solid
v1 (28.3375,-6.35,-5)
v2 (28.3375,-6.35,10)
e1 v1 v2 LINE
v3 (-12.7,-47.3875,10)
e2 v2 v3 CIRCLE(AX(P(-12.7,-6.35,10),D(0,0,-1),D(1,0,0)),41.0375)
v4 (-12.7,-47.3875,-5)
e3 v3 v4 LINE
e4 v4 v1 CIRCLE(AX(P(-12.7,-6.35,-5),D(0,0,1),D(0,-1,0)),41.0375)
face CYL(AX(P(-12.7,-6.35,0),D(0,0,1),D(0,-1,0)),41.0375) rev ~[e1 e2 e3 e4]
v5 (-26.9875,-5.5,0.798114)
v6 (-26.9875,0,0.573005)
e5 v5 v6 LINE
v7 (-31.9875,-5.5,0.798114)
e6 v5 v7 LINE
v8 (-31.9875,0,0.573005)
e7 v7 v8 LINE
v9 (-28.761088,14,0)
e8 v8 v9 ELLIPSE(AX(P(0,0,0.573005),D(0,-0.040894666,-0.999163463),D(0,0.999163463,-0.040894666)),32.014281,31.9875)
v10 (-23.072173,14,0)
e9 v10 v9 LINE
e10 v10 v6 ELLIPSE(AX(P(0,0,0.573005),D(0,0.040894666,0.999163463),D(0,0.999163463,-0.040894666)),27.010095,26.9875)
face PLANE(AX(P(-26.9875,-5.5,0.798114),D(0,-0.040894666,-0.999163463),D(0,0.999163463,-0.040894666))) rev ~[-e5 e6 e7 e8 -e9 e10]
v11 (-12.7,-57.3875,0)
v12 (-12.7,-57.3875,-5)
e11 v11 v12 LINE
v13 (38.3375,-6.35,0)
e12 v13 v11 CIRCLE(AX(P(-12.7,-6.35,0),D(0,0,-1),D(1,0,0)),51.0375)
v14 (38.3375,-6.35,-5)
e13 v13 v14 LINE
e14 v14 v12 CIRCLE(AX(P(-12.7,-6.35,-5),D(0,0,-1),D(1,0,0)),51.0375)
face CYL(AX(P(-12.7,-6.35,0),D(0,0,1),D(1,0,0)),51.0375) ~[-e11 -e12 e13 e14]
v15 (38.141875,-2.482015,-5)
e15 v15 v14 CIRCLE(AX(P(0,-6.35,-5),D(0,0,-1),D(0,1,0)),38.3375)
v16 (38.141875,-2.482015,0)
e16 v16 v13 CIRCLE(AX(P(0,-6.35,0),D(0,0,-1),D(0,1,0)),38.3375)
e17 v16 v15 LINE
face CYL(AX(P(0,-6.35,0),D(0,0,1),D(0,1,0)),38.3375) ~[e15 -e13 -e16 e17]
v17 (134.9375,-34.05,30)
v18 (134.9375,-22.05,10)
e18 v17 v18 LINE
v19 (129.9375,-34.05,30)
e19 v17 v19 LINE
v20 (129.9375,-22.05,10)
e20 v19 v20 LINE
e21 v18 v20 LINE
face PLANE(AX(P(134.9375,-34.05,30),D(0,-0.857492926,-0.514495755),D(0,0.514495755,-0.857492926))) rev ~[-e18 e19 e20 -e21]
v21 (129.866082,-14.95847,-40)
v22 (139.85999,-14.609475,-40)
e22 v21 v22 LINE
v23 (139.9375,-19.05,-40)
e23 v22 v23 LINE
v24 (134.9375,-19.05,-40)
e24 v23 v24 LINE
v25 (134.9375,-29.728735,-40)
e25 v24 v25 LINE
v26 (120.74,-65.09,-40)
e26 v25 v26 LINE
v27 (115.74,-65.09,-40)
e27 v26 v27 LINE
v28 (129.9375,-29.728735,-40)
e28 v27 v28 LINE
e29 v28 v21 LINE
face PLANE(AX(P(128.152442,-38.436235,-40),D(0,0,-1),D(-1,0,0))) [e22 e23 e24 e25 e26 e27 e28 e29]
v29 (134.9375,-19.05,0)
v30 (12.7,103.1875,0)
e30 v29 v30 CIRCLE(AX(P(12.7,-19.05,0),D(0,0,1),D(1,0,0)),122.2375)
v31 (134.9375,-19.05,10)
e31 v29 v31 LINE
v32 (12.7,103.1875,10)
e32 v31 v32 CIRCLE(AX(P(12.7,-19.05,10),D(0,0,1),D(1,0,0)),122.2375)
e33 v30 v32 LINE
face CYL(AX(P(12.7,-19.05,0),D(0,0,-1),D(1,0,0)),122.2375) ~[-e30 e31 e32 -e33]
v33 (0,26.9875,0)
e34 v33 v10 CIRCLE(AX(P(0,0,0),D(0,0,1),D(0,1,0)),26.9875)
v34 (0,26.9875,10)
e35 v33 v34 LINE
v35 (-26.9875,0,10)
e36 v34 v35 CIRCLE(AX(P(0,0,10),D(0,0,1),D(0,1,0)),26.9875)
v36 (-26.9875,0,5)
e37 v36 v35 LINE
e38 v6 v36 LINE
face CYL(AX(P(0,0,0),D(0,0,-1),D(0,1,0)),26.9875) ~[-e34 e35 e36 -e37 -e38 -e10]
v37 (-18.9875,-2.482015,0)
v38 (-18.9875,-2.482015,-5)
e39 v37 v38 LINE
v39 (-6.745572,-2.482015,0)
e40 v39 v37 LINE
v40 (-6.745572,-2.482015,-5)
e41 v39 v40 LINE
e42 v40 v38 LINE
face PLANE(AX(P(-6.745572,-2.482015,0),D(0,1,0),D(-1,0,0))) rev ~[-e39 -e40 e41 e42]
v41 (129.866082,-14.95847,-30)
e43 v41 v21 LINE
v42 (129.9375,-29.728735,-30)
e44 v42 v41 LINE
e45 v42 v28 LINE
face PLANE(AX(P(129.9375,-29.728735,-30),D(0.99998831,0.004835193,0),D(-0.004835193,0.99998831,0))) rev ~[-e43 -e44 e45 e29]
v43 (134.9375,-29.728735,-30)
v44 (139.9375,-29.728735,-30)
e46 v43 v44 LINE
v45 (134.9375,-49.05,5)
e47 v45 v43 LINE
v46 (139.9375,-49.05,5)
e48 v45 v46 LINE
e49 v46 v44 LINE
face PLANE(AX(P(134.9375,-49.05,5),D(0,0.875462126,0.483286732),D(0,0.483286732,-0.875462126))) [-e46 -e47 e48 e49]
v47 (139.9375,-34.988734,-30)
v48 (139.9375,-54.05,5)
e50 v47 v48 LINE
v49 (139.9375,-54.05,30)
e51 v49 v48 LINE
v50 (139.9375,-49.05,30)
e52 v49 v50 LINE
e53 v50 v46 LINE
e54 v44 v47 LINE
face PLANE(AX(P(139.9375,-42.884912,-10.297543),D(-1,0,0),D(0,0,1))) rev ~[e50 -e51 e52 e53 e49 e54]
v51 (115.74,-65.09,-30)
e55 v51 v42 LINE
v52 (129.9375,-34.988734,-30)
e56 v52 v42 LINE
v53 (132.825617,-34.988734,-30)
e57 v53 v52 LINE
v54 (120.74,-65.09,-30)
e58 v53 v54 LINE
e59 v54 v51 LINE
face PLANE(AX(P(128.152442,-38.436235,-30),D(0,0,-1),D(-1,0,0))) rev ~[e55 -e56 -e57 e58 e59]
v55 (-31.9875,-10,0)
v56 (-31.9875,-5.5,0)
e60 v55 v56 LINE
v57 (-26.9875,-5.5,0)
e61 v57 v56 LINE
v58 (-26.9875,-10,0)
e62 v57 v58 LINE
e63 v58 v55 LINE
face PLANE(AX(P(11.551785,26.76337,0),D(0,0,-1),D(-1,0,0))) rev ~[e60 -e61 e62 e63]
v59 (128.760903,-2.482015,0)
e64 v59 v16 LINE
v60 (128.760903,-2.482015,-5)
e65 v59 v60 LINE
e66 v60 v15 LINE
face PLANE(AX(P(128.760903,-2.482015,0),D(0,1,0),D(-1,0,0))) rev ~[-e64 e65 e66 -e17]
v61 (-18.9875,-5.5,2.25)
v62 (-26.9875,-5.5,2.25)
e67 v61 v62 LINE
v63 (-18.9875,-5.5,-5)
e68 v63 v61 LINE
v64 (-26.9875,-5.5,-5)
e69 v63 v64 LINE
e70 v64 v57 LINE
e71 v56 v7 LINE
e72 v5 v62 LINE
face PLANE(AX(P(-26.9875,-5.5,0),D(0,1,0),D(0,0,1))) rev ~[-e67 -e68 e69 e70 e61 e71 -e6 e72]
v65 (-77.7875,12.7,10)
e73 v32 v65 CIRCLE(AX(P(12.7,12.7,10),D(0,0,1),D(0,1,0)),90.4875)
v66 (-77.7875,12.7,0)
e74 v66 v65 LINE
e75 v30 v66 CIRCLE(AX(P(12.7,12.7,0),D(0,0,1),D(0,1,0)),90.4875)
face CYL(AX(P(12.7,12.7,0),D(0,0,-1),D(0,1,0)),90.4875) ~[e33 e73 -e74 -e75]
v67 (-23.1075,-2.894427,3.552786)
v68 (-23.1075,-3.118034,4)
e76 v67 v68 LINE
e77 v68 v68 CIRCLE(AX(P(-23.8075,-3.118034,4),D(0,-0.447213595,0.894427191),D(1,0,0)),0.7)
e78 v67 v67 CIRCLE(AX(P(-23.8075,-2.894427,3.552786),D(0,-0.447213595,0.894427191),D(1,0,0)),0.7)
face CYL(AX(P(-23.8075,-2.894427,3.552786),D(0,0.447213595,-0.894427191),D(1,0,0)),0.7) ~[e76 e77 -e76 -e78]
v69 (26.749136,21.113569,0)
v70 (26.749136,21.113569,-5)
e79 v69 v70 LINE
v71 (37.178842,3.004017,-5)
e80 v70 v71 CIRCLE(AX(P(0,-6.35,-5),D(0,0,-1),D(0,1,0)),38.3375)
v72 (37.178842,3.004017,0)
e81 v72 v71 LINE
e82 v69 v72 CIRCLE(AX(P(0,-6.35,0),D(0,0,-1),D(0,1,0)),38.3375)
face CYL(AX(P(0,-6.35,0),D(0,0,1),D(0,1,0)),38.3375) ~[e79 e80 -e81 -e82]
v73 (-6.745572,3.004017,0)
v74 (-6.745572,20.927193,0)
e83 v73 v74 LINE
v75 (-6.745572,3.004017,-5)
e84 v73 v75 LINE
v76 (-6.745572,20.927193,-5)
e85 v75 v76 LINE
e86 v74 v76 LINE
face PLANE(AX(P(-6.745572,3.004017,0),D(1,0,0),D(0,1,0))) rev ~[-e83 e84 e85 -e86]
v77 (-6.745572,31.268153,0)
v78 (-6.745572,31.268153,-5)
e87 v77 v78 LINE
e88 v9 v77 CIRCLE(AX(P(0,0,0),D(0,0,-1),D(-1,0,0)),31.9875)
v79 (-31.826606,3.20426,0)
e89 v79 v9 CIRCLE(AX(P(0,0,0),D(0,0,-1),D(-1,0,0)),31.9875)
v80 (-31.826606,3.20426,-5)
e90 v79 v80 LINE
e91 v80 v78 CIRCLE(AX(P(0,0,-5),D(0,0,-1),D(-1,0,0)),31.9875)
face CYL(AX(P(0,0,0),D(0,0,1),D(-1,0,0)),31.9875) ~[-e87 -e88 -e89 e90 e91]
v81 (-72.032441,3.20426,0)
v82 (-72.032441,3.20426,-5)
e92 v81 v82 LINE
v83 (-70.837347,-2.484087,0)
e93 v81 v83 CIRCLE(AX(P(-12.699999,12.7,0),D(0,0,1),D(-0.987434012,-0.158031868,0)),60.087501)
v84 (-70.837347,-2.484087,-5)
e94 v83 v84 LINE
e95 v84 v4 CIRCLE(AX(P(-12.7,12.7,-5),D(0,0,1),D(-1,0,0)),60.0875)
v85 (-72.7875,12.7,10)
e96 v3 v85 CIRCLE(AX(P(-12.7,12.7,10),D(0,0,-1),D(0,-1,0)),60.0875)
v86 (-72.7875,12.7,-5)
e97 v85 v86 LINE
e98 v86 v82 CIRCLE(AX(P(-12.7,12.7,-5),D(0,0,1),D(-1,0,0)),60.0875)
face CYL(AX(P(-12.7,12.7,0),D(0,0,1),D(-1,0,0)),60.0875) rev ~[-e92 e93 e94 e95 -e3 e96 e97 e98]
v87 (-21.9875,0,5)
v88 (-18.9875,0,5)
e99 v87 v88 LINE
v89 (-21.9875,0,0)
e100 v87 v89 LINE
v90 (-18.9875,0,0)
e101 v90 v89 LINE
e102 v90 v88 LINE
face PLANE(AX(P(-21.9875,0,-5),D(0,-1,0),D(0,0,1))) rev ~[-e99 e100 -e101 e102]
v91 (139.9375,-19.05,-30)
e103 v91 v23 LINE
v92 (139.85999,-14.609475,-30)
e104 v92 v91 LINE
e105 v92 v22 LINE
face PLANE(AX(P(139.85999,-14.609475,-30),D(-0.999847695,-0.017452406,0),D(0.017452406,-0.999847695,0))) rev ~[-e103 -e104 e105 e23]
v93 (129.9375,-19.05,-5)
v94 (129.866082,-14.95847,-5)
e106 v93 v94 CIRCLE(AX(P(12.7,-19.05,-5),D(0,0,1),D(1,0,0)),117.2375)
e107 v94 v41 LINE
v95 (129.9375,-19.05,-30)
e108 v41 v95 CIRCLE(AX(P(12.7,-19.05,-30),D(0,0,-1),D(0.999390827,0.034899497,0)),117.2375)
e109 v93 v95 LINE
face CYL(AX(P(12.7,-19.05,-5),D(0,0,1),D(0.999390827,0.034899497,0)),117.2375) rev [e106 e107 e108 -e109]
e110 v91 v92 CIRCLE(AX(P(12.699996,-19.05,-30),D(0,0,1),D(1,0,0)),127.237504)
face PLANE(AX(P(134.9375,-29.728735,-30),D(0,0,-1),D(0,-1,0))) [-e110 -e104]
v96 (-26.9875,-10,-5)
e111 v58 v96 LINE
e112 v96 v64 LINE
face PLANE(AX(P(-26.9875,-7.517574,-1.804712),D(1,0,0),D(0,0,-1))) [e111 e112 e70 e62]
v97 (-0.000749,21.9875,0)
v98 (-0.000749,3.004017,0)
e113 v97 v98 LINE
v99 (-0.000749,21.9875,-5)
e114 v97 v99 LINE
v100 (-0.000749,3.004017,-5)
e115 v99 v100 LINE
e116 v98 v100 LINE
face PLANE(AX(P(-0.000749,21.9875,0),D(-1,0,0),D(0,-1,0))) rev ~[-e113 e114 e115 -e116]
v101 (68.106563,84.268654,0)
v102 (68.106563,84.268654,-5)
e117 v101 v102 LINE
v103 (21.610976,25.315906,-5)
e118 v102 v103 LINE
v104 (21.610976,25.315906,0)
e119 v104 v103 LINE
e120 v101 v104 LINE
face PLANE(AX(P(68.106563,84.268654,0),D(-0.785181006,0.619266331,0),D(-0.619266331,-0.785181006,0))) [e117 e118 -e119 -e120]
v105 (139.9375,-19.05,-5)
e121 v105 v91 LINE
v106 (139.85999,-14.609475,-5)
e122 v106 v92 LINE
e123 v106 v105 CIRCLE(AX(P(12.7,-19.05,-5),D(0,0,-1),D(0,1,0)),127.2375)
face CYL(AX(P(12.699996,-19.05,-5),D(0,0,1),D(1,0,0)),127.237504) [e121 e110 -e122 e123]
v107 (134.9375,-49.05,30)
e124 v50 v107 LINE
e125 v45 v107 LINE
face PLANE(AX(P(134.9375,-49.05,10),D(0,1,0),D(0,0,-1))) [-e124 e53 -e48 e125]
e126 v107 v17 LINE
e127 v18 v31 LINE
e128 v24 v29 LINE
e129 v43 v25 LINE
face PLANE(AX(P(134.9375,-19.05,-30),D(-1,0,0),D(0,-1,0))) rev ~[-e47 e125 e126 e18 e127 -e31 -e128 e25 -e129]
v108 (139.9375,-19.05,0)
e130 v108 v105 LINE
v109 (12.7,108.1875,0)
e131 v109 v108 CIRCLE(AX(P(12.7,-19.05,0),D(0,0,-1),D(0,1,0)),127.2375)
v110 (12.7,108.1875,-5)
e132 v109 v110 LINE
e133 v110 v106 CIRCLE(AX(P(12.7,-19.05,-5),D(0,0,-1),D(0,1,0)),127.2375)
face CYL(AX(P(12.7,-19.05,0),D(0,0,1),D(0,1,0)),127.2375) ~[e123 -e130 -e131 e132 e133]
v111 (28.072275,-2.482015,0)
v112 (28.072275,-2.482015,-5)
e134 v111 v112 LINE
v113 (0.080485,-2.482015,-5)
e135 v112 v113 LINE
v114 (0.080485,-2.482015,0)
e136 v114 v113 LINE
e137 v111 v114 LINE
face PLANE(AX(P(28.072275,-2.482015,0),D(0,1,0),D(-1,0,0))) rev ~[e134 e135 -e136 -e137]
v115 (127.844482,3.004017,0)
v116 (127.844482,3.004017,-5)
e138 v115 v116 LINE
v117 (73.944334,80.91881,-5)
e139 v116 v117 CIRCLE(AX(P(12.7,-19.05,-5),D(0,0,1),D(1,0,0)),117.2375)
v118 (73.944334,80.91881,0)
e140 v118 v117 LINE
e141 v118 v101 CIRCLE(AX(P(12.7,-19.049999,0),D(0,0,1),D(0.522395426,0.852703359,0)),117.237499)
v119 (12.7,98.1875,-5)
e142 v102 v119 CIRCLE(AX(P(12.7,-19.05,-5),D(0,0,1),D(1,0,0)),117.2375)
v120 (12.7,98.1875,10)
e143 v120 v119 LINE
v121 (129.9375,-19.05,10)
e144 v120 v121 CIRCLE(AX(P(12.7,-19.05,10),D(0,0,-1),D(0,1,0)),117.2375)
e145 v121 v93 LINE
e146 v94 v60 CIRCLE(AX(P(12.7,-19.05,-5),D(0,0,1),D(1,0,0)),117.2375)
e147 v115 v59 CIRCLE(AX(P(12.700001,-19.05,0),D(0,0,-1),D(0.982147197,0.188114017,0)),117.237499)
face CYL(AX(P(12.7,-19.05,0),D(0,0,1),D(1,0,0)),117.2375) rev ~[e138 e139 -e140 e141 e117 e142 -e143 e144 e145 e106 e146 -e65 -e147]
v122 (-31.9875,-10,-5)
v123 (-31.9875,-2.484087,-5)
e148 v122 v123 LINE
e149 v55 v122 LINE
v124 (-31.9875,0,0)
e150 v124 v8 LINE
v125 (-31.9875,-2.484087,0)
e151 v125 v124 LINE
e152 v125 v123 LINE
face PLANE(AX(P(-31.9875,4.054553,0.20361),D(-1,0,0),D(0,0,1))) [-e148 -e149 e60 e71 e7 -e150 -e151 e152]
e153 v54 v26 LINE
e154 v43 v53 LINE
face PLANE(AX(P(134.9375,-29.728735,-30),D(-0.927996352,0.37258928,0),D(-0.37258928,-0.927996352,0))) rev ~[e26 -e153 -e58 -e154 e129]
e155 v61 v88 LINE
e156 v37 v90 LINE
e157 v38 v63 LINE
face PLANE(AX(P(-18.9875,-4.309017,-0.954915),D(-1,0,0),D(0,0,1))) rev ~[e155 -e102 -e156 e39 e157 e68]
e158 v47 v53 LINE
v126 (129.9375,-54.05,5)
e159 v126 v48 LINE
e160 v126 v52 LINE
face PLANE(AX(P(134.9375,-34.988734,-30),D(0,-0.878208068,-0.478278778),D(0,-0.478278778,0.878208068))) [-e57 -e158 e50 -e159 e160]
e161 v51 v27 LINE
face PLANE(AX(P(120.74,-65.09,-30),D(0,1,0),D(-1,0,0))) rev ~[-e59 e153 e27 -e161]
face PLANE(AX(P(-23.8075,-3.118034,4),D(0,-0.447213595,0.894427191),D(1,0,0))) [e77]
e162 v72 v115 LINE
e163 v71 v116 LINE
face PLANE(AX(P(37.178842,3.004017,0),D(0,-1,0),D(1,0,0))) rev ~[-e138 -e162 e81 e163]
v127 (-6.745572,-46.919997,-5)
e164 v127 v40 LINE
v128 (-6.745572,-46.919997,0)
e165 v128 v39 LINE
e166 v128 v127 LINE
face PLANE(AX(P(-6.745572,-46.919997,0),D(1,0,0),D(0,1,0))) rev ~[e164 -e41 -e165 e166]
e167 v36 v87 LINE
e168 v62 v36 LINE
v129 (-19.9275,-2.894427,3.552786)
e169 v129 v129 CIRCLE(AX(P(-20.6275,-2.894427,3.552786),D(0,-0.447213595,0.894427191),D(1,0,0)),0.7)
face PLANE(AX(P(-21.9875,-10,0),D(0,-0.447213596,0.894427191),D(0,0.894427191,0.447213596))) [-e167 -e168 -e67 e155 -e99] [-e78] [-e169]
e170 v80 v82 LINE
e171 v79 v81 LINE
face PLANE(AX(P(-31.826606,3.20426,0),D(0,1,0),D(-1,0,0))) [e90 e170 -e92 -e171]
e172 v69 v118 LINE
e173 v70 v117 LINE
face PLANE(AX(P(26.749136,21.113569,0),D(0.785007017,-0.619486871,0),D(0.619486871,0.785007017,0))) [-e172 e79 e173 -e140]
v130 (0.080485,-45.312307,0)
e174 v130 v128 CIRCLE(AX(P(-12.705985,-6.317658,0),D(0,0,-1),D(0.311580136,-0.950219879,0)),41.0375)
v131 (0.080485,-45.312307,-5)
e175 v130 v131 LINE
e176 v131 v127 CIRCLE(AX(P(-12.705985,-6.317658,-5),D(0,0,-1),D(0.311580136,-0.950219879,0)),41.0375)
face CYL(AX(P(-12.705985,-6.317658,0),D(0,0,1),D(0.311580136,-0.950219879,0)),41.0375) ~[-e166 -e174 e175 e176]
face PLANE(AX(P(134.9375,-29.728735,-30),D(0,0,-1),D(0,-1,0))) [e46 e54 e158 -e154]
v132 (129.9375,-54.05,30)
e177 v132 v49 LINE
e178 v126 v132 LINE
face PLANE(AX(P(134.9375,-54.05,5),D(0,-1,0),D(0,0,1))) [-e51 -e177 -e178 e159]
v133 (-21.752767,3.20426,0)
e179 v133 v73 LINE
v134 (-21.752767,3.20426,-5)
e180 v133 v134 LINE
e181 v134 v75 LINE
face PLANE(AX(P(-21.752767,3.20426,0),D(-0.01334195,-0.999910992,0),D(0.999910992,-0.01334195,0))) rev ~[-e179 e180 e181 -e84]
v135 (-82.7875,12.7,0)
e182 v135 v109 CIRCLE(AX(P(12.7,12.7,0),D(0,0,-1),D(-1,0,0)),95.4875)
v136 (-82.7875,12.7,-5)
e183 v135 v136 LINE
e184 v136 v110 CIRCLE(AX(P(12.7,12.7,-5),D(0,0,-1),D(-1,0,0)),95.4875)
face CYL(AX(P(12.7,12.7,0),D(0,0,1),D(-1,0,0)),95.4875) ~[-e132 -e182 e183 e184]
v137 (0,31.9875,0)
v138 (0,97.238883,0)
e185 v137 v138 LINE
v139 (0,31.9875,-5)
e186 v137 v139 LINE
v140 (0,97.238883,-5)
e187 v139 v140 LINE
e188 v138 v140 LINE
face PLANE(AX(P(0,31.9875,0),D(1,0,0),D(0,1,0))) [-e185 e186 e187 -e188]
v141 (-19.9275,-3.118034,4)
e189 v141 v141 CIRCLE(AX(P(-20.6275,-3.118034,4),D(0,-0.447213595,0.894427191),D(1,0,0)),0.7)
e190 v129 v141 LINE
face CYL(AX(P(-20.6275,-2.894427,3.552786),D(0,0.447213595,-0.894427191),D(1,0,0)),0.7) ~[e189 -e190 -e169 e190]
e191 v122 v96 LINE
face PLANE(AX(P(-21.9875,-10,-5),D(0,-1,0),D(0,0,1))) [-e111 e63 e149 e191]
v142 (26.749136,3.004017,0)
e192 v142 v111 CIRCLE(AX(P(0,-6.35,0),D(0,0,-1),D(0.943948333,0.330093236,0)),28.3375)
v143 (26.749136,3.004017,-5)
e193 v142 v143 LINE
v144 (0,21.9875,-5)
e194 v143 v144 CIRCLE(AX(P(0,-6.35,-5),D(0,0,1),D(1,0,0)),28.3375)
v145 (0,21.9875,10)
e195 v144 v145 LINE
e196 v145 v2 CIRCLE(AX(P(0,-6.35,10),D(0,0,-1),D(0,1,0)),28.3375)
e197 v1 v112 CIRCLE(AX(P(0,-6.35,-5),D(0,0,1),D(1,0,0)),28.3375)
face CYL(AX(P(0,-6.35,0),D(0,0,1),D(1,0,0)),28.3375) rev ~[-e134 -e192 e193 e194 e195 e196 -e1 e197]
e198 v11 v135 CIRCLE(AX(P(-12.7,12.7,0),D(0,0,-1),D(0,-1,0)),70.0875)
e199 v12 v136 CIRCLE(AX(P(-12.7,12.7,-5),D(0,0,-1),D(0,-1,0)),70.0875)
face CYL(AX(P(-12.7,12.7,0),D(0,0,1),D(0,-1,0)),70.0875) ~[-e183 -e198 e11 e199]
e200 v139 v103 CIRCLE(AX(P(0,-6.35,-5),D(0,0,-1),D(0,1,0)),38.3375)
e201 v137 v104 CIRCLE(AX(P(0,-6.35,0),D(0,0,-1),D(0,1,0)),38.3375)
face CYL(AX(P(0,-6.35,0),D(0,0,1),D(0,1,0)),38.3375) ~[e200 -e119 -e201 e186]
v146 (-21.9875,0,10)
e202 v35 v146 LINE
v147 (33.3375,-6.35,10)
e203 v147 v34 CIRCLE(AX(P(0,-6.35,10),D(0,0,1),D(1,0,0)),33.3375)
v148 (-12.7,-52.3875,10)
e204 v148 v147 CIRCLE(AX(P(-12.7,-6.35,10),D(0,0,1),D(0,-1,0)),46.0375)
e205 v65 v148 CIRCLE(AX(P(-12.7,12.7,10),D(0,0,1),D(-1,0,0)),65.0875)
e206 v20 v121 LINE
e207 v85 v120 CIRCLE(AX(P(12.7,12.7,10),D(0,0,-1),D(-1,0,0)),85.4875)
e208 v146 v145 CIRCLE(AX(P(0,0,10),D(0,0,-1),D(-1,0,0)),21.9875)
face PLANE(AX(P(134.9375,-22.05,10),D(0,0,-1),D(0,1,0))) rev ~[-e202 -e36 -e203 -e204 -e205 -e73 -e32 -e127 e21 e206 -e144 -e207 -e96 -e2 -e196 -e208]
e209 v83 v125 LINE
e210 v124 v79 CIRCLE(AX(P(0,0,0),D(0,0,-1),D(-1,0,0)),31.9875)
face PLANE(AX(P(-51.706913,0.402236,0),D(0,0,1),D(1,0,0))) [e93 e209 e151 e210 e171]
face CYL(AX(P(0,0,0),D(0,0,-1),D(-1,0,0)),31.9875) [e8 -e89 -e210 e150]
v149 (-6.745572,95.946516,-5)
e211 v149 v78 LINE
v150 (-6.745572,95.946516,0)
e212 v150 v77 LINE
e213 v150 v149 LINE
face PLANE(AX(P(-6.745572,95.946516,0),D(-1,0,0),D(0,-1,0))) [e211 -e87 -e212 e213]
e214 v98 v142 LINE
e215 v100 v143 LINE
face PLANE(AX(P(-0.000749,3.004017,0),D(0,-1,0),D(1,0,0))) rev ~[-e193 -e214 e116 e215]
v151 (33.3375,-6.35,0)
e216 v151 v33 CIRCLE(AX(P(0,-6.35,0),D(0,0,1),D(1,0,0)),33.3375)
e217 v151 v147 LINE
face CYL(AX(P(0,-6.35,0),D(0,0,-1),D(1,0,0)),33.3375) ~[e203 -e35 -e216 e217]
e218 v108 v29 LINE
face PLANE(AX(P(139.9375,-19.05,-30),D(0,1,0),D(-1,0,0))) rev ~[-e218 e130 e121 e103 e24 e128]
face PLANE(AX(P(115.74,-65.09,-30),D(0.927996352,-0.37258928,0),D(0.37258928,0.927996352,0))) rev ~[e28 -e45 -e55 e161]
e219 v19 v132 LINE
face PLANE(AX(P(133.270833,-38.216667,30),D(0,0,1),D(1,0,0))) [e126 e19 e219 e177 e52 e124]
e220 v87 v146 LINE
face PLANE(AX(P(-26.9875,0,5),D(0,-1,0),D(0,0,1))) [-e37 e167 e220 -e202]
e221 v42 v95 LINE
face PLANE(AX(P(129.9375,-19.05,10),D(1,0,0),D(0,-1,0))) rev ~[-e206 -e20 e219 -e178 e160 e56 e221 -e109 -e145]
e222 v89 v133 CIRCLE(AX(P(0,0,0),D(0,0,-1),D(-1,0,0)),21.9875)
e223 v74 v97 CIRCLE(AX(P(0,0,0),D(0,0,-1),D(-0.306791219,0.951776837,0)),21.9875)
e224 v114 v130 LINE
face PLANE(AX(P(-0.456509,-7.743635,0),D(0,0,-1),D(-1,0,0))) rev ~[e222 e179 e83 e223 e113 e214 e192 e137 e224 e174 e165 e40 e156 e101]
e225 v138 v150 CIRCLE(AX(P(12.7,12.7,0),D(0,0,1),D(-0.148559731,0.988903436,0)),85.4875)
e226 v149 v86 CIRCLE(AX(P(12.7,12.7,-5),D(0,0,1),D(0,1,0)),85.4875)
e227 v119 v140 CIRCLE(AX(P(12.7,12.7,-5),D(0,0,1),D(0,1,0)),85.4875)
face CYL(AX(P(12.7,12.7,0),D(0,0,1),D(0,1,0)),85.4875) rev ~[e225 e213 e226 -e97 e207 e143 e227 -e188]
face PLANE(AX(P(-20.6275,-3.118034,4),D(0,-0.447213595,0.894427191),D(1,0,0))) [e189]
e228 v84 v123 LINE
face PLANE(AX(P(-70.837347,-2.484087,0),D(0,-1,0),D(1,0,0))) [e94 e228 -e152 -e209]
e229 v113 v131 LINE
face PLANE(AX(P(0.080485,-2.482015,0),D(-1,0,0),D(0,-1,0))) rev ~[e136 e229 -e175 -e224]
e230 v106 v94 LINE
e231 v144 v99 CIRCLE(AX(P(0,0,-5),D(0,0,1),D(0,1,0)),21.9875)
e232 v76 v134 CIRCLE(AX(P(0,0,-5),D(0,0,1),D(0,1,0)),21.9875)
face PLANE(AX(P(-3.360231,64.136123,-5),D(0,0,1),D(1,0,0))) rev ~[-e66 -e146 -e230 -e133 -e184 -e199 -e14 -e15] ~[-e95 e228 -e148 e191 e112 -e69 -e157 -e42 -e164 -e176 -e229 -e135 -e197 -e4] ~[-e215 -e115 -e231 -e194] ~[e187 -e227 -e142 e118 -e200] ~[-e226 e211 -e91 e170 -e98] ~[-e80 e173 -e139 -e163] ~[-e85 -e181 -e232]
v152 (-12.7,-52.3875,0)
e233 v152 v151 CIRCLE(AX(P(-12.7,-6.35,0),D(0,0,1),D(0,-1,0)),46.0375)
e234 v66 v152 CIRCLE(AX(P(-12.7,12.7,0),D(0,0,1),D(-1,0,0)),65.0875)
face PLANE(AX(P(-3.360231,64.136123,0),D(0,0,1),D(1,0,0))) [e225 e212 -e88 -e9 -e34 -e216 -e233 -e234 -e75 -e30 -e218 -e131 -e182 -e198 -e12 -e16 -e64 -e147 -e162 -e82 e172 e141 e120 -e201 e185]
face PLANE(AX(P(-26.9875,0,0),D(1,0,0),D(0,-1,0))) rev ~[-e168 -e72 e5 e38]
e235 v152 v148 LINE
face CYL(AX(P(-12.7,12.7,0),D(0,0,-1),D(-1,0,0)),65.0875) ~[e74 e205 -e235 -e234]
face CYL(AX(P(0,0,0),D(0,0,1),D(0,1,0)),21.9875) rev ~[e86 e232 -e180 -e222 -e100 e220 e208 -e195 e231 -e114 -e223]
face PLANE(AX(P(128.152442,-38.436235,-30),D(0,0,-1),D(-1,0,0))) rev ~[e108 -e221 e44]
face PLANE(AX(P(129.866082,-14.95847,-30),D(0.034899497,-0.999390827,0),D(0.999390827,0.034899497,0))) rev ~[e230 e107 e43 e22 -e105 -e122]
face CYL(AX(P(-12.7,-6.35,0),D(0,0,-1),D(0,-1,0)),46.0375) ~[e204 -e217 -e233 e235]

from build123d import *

# Parameters (mm, degrees)
EXTRUDE2_DEPTH      = 10
EXTRUDE3_DEPTH      = 5
CUT_EXTRUDE1_DEPTH  = 5
EXTRUDE4_DEPTH      = 3
CUT_EXTRUDE2_DEPTH  = 8
EXTRUDE5_DEPTH      = 5
EXTRUDE5_DEPTH_BACK = 5
CUT_EXTRUDE3_DEPTH  = 5
SKETCH9_W           = 5
SKETCH9_H           = 15
EXTRUDE6_DEPTH      = 35
SKETCH11_W          = 5
SKETCH11_H          = 35
EXTRUDE8_DEPTH      = 25
EXTRUDE9_DEPTH      = 25
EXTRUDE12_DEPTH     = 20
EXTRUDE13_DEPTH     = 5
CUT_EXTRUDE5_DEPTH  = 5
EXTRUDE14_DEPTH     = 10
EXTRUDE19_DEPTH     = 5
SKETCH21_R          = 0.7
EXTRUDE20_DEPTH     = 0.5


with BuildPart() as part:
    # Sketch2 → Extrude2 (new body)
    with BuildSketch(Plane.XY):
        with BuildLine():
            Line((-26.9875, 0), (-26.9875, -10))
            Line((-26.9875, -10), (-21.9875, -10))
            Line((-21.9875, -10), (-21.9875, 0))
            ThreePointArc((-21.9875, 0), (-15.547510351, 15.547510351), (0, 21.9875))
            ThreePointArc((0, 21.9875), (20.037638412, 13.687638412), (28.3375, -6.35))
            ThreePointArc((28.3375, -6.35), (16.317894533, -35.367894533), (-12.7, -47.3875))
            ThreePointArc((-12.7, -47.3875), (-55.188278715, -29.788278715), (-72.7875, 12.7))
            ThreePointArc((-72.7875, 12.7), (-47.748790957, 73.148790957), (12.7, 98.1875))
            ThreePointArc((12.7, 98.1875), (95.599431259, 63.849431259), (129.9375, -19.05))
            Line((129.9375, -19.05), (134.9375, -19.05))
            ThreePointArc((134.9375, -19.05), (99.134965165, 67.384965165), (12.7, 103.1875))
            ThreePointArc((12.7, 103.1875), (-51.284324863, 76.684324863), (-77.7875, 12.7))
            ThreePointArc((-77.7875, 12.7), (-58.72381262, -33.32381262), (-12.7, -52.3875))
            ThreePointArc((-12.7, -52.3875), (19.853428439, -38.903428439), (33.3375, -6.35))
            ThreePointArc((33.3375, -6.35), (23.573172318, 17.223172318), (0, 26.9875))
            ThreePointArc((0, 26.9875), (-19.083044257, 19.083044257), (-26.9875, 0))
        make_face()
    extrude(amount=EXTRUDE2_DEPTH)

    # Sketch3 → Extrude3 (add)
    with BuildSketch(Plane.XY):
        with BuildLine():
            Line((-21.9875, 0), (-21.9875, -10))
            Line((-21.9875, -10), (-31.9875, -10))
            Line((-31.9875, -10), (-31.9875, 0))
            ThreePointArc((-31.9875, 0), (-22.618578163, 22.618578163), (0, 31.9875))
            ThreePointArc((0, 31.9875), (27.108706224, 20.758706224), (38.3375, -6.35))
            ThreePointArc((38.3375, -6.35), (23.388962345, -42.438962345), (-12.7, -57.3875))
            ThreePointArc((-12.7, -57.3875), (-62.259346526, -36.859346526), (-82.7875, 12.7))
            ThreePointArc((-82.7875, 12.7), (-54.819858769, 80.219858769), (12.7, 108.1875))
            ThreePointArc((12.7, 108.1875), (102.670499071, 70.920499071), (139.9375, -19.05))
            Line((139.9375, -19.05), (129.9375, -19.05))
            ThreePointArc((129.9375, -19.05), (95.599431259, 63.849431259), (12.7, 98.1875))
            ThreePointArc((12.7, 98.1875), (-47.748790957, 73.148790957), (-72.7875, 12.7))
            ThreePointArc((-72.7875, 12.7), (-55.188278715, -29.788278715), (-12.7, -47.3875))
            ThreePointArc((-12.7, -47.3875), (16.317894533, -35.367894533), (28.3375, -6.35))
            ThreePointArc((28.3375, -6.35), (20.037638412, 13.687638412), (0, 21.9875))
            ThreePointArc((0, 21.9875), (-15.547510351, 15.547510351), (-21.9875, 0))
        make_face()
    extrude(amount=-EXTRUDE3_DEPTH)

    # Sketch4 → Cut-Extrude1 (cut)
    with BuildSketch(Plane.ZY.offset(26.9875)):
        Polygon((0, -10), (5, 0), (10, 0), (10, -10), align=None)
    extrude(amount=-CUT_EXTRUDE1_DEPTH, mode=Mode.SUBTRACT)

    # Sketch5 → Extrude4 (add)
    with BuildSketch(Plane(origin=(-21.9875, 0, 0), x_dir=(0, 0, -1), z_dir=(1, 0, 0))):
        Polygon((0, -10), (-5, 0), (0, 0), (5, 0), (5, -10), align=None)
    extrude(amount=EXTRUDE4_DEPTH)

    # Sketch6 → Cut-Extrude2 (cut)
    with BuildSketch(Plane(origin=(-18.9875, 0, 0), x_dir=(0, 0, -1), z_dir=(1, 0, 0))):
        Polygon((5, -5.5), (-2.25, -5.5), (0, -10), (5, -10), align=None)
    extrude(amount=-CUT_EXTRUDE2_DEPTH, mode=Mode.SUBTRACT)

    # Sketch7 → Extrude5 (add, two sides)
    with BuildSketch(Plane.ZY.offset(26.9875)) as extrude5_sk:
        Polygon((0, -5.5), (0.798113635, -5.5), (0, 14), align=None)
    extrude(amount=EXTRUDE5_DEPTH)
    extrude(extrude5_sk.sketch, amount=-EXTRUDE5_DEPTH_BACK)

    # Sketch8 → Cut-Extrude3 (cut)
    with BuildSketch(Plane.XY):
        with BuildLine():
            Line((-28.761087536, 14), (-31.9875, 14))
            Line((-31.9875, 14), (-31.9875, 0))
            ThreePointArc((-31.9875, 0), (-31.170462331, 7.183483441), (-28.761087536, 14))
        make_face()
    extrude(amount=CUT_EXTRUDE3_DEPTH, mode=Mode.SUBTRACT)

    # Sketch9 → Extrude6 (add)
    with BuildSketch(Plane.XZ.offset(19.05)):
        with Locations((132.4375, 2.5)):
            Rectangle(SKETCH9_W, SKETCH9_H)
    extrude(amount=EXTRUDE6_DEPTH)

    # Sketch11 → Extrude8 (add)
    with BuildSketch(Plane(origin=(0, 0, -5), x_dir=(-1, 0, 0), z_dir=(0, 0, -1))):
        with Locations((-132.4375, -36.55)):
            Rectangle(SKETCH11_W, SKETCH11_H)
    extrude(amount=EXTRUDE8_DEPTH)

    # Sketch12 → Extrude9 (add)
    with BuildSketch(Plane(origin=(0, 0, -5), x_dir=(-1, 0, 0), z_dir=(0, 0, -1))):
        with BuildLine():
            Line((-129.9375, -19.05), (-139.9375, -19.05))
            ThreePointArc((-139.9375, -19.05), (-139.918121112, -16.829399436), (-139.859990353, -14.609475288))
            Line((-139.859990353, -14.609475288), (-129.866082083, -14.958470255))
            ThreePointArc((-129.866082083, -14.958470255), (-129.919644161, -17.0039235), (-129.9375, -19.05))
        make_face()
    extrude(amount=EXTRUDE9_DEPTH)

    # Sketch16 → Extrude12 (add)
    with BuildSketch(Plane.XY.offset(10)):
        Polygon((129.9375, -19.05), (129.9375, -54.05), (139.9375, -54.05), (139.9375, -49.05), (134.9375, -49.05), (134.9375, -19.05), align=None)
    extrude(amount=EXTRUDE12_DEPTH)

    # Sketch17 → Extrude13 (add)
    with BuildSketch(Plane(origin=(134.9375, 0, 0), x_dir=(0, 0, -1), z_dir=(1, 0, 0))):
        Polygon((-10, -54.05), (-10, -49.05), (-5, -49.05), (30, -29.72873513), (30, -34.988734421), (-5, -54.05), align=None)
    extrude(amount=EXTRUDE13_DEPTH)

    # Sketch18 → Cut-Extrude5 (cut)
    with BuildSketch(Plane(origin=(134.9375, 0, 0), x_dir=(0, 0, -1), z_dir=(1, 0, 0))):
        Polygon((-5, -54.05), (30, -34.988734421), (30, -54.05), align=None)
        Polygon((-30, -19.05), (-30, -34.05), (-10, -22.05), (-10, -19.05), align=None)
    extrude(amount=-CUT_EXTRUDE5_DEPTH, mode=Mode.SUBTRACT)

    # Sketch19 → Extrude14 (add)
    with BuildSketch(Plane(origin=(0, 0, -30), x_dir=(-1, 0, 0), z_dir=(0, 0, -1))):
        Polygon((-134.9375, -19.05), (-134.9375, -29.72873513), (-120.74, -65.09), (-115.74, -65.09), (-129.9375, -29.72873513), (-129.866082083, -14.958470255), (-139.859990353, -14.609475288), (-139.9375, -19.05), align=None)
    extrude(amount=EXTRUDE14_DEPTH)

    # Sketch20 → Extrude19 (add)
    with BuildSketch(Plane.XY):
        with BuildLine():
            Line((128.760903372, -2.482015371), (38.141874641, -2.482015371))
            ThreePointArc((38.141874641, -2.482015371), (37.760120708, 0.278513435), (37.178841709, 3.004017073))
            Line((37.178841709, 3.004017073), (127.844482009, 3.004017073))
            ThreePointArc((127.844482009, 3.004017073), (128.335231203, 0.266436289), (128.760903372, -2.482015371))
        make_face()
        with BuildLine():
            Line((0, 31.9875), (0, 97.238882511))
            ThreePointArc((0, 97.238882511), (-3.385770157, 96.660470787), (-6.745571925, 95.946515776))
            Line((-6.745571925, 95.946515776), (-6.745571925, 31.268153378))
            ThreePointArc((-6.745571925, 31.268153378), (-3.391909497, 31.807154953), (0, 31.9875))
        make_face()
        with BuildLine():
            Line((-0.000749496, 21.987499987), (-0.000749496, 3.004017073))
            Line((-0.000749496, 3.004017073), (26.74913589, 3.004017073))
            ThreePointArc((26.74913589, 3.004017073), (27.547611511, 0.294020339), (28.072274599, -2.482015371))
            Line((28.072274599, -2.482015371), (0.080484541, -2.482015371))
            Line((0.080484541, -2.482015371), (0.080484541, -45.312306862))
            ThreePointArc((0.080484541, -45.312306862), (-3.298138872, -46.262230565), (-6.745571925, -46.919996909))
            Line((-6.745571925, -46.919996909), (-6.745571925, -2.482015371))
            Line((-6.745571925, -2.482015371), (-18.9875, -2.482015371))
            Line((-18.9875, -2.482015371), (-18.9875, 0))
            Line((-18.9875, 0), (-21.9875, 0))
            ThreePointArc((-21.9875, 0), (-21.928738235, 1.606423254), (-21.752767023, 3.20426015))
            Line((-21.752767023, 3.20426015), (-6.745571925, 3.004017073))
            Line((-6.745571925, 3.004017073), (-6.745571925, 20.92719321))
            ThreePointArc((-6.745571925, 20.92719321), (-3.414568171, 21.720747696), (-0.000749496, 21.987499987))
        make_face()
        with BuildLine():
            Line((-31.826606372, 3.20426015), (-50.922171332, 3.20426015))
            Line((-50.922171332, 3.20426015), (-72.032441219, 3.20426015))
            ThreePointArc((-72.032441219, 3.20426015), (-71.503716958, 0.345627166), (-70.83734731, -2.484087197))
            Line((-70.83734731, -2.484087197), (-50.922171332, -2.484087197))
            Line((-50.922171332, -2.484087197), (-31.9875, -2.484087197))
            Line((-31.9875, -2.484087197), (-31.9875, 0))
            ThreePointArc((-31.9875, 0), (-31.947251271, 1.604148518), (-31.826606372, 3.20426015))
        make_face()
        with BuildLine():
            Line((26.74913589, 21.11356924), (73.944333787, 80.918810062))
            ThreePointArc((73.944333787, 80.918810062), (71.049492521, 82.635633837), (68.106562726, 84.268653752))
            Line((68.106562726, 84.268653752), (21.610975976, 25.315906329))
            ThreePointArc((21.610975976, 25.315906329), (24.271176613, 23.326150223), (26.74913589, 21.11356924))
        make_face()
    extrude(amount=-EXTRUDE19_DEPTH)

    # Sketch21 → Extrude20 (add)
    with BuildSketch(Plane(origin=(0, -2, 4), x_dir=(1, 0, 0), z_dir=(0, -0.447213595, 0.894427191))):
        with Locations((-23.8075, -1)):
            Circle(SKETCH21_R)
        with Locations((-20.6275, -1)):
            Circle(SKETCH21_R)
    extrude(amount=EXTRUDE20_DEPTH)


solid = part.part
